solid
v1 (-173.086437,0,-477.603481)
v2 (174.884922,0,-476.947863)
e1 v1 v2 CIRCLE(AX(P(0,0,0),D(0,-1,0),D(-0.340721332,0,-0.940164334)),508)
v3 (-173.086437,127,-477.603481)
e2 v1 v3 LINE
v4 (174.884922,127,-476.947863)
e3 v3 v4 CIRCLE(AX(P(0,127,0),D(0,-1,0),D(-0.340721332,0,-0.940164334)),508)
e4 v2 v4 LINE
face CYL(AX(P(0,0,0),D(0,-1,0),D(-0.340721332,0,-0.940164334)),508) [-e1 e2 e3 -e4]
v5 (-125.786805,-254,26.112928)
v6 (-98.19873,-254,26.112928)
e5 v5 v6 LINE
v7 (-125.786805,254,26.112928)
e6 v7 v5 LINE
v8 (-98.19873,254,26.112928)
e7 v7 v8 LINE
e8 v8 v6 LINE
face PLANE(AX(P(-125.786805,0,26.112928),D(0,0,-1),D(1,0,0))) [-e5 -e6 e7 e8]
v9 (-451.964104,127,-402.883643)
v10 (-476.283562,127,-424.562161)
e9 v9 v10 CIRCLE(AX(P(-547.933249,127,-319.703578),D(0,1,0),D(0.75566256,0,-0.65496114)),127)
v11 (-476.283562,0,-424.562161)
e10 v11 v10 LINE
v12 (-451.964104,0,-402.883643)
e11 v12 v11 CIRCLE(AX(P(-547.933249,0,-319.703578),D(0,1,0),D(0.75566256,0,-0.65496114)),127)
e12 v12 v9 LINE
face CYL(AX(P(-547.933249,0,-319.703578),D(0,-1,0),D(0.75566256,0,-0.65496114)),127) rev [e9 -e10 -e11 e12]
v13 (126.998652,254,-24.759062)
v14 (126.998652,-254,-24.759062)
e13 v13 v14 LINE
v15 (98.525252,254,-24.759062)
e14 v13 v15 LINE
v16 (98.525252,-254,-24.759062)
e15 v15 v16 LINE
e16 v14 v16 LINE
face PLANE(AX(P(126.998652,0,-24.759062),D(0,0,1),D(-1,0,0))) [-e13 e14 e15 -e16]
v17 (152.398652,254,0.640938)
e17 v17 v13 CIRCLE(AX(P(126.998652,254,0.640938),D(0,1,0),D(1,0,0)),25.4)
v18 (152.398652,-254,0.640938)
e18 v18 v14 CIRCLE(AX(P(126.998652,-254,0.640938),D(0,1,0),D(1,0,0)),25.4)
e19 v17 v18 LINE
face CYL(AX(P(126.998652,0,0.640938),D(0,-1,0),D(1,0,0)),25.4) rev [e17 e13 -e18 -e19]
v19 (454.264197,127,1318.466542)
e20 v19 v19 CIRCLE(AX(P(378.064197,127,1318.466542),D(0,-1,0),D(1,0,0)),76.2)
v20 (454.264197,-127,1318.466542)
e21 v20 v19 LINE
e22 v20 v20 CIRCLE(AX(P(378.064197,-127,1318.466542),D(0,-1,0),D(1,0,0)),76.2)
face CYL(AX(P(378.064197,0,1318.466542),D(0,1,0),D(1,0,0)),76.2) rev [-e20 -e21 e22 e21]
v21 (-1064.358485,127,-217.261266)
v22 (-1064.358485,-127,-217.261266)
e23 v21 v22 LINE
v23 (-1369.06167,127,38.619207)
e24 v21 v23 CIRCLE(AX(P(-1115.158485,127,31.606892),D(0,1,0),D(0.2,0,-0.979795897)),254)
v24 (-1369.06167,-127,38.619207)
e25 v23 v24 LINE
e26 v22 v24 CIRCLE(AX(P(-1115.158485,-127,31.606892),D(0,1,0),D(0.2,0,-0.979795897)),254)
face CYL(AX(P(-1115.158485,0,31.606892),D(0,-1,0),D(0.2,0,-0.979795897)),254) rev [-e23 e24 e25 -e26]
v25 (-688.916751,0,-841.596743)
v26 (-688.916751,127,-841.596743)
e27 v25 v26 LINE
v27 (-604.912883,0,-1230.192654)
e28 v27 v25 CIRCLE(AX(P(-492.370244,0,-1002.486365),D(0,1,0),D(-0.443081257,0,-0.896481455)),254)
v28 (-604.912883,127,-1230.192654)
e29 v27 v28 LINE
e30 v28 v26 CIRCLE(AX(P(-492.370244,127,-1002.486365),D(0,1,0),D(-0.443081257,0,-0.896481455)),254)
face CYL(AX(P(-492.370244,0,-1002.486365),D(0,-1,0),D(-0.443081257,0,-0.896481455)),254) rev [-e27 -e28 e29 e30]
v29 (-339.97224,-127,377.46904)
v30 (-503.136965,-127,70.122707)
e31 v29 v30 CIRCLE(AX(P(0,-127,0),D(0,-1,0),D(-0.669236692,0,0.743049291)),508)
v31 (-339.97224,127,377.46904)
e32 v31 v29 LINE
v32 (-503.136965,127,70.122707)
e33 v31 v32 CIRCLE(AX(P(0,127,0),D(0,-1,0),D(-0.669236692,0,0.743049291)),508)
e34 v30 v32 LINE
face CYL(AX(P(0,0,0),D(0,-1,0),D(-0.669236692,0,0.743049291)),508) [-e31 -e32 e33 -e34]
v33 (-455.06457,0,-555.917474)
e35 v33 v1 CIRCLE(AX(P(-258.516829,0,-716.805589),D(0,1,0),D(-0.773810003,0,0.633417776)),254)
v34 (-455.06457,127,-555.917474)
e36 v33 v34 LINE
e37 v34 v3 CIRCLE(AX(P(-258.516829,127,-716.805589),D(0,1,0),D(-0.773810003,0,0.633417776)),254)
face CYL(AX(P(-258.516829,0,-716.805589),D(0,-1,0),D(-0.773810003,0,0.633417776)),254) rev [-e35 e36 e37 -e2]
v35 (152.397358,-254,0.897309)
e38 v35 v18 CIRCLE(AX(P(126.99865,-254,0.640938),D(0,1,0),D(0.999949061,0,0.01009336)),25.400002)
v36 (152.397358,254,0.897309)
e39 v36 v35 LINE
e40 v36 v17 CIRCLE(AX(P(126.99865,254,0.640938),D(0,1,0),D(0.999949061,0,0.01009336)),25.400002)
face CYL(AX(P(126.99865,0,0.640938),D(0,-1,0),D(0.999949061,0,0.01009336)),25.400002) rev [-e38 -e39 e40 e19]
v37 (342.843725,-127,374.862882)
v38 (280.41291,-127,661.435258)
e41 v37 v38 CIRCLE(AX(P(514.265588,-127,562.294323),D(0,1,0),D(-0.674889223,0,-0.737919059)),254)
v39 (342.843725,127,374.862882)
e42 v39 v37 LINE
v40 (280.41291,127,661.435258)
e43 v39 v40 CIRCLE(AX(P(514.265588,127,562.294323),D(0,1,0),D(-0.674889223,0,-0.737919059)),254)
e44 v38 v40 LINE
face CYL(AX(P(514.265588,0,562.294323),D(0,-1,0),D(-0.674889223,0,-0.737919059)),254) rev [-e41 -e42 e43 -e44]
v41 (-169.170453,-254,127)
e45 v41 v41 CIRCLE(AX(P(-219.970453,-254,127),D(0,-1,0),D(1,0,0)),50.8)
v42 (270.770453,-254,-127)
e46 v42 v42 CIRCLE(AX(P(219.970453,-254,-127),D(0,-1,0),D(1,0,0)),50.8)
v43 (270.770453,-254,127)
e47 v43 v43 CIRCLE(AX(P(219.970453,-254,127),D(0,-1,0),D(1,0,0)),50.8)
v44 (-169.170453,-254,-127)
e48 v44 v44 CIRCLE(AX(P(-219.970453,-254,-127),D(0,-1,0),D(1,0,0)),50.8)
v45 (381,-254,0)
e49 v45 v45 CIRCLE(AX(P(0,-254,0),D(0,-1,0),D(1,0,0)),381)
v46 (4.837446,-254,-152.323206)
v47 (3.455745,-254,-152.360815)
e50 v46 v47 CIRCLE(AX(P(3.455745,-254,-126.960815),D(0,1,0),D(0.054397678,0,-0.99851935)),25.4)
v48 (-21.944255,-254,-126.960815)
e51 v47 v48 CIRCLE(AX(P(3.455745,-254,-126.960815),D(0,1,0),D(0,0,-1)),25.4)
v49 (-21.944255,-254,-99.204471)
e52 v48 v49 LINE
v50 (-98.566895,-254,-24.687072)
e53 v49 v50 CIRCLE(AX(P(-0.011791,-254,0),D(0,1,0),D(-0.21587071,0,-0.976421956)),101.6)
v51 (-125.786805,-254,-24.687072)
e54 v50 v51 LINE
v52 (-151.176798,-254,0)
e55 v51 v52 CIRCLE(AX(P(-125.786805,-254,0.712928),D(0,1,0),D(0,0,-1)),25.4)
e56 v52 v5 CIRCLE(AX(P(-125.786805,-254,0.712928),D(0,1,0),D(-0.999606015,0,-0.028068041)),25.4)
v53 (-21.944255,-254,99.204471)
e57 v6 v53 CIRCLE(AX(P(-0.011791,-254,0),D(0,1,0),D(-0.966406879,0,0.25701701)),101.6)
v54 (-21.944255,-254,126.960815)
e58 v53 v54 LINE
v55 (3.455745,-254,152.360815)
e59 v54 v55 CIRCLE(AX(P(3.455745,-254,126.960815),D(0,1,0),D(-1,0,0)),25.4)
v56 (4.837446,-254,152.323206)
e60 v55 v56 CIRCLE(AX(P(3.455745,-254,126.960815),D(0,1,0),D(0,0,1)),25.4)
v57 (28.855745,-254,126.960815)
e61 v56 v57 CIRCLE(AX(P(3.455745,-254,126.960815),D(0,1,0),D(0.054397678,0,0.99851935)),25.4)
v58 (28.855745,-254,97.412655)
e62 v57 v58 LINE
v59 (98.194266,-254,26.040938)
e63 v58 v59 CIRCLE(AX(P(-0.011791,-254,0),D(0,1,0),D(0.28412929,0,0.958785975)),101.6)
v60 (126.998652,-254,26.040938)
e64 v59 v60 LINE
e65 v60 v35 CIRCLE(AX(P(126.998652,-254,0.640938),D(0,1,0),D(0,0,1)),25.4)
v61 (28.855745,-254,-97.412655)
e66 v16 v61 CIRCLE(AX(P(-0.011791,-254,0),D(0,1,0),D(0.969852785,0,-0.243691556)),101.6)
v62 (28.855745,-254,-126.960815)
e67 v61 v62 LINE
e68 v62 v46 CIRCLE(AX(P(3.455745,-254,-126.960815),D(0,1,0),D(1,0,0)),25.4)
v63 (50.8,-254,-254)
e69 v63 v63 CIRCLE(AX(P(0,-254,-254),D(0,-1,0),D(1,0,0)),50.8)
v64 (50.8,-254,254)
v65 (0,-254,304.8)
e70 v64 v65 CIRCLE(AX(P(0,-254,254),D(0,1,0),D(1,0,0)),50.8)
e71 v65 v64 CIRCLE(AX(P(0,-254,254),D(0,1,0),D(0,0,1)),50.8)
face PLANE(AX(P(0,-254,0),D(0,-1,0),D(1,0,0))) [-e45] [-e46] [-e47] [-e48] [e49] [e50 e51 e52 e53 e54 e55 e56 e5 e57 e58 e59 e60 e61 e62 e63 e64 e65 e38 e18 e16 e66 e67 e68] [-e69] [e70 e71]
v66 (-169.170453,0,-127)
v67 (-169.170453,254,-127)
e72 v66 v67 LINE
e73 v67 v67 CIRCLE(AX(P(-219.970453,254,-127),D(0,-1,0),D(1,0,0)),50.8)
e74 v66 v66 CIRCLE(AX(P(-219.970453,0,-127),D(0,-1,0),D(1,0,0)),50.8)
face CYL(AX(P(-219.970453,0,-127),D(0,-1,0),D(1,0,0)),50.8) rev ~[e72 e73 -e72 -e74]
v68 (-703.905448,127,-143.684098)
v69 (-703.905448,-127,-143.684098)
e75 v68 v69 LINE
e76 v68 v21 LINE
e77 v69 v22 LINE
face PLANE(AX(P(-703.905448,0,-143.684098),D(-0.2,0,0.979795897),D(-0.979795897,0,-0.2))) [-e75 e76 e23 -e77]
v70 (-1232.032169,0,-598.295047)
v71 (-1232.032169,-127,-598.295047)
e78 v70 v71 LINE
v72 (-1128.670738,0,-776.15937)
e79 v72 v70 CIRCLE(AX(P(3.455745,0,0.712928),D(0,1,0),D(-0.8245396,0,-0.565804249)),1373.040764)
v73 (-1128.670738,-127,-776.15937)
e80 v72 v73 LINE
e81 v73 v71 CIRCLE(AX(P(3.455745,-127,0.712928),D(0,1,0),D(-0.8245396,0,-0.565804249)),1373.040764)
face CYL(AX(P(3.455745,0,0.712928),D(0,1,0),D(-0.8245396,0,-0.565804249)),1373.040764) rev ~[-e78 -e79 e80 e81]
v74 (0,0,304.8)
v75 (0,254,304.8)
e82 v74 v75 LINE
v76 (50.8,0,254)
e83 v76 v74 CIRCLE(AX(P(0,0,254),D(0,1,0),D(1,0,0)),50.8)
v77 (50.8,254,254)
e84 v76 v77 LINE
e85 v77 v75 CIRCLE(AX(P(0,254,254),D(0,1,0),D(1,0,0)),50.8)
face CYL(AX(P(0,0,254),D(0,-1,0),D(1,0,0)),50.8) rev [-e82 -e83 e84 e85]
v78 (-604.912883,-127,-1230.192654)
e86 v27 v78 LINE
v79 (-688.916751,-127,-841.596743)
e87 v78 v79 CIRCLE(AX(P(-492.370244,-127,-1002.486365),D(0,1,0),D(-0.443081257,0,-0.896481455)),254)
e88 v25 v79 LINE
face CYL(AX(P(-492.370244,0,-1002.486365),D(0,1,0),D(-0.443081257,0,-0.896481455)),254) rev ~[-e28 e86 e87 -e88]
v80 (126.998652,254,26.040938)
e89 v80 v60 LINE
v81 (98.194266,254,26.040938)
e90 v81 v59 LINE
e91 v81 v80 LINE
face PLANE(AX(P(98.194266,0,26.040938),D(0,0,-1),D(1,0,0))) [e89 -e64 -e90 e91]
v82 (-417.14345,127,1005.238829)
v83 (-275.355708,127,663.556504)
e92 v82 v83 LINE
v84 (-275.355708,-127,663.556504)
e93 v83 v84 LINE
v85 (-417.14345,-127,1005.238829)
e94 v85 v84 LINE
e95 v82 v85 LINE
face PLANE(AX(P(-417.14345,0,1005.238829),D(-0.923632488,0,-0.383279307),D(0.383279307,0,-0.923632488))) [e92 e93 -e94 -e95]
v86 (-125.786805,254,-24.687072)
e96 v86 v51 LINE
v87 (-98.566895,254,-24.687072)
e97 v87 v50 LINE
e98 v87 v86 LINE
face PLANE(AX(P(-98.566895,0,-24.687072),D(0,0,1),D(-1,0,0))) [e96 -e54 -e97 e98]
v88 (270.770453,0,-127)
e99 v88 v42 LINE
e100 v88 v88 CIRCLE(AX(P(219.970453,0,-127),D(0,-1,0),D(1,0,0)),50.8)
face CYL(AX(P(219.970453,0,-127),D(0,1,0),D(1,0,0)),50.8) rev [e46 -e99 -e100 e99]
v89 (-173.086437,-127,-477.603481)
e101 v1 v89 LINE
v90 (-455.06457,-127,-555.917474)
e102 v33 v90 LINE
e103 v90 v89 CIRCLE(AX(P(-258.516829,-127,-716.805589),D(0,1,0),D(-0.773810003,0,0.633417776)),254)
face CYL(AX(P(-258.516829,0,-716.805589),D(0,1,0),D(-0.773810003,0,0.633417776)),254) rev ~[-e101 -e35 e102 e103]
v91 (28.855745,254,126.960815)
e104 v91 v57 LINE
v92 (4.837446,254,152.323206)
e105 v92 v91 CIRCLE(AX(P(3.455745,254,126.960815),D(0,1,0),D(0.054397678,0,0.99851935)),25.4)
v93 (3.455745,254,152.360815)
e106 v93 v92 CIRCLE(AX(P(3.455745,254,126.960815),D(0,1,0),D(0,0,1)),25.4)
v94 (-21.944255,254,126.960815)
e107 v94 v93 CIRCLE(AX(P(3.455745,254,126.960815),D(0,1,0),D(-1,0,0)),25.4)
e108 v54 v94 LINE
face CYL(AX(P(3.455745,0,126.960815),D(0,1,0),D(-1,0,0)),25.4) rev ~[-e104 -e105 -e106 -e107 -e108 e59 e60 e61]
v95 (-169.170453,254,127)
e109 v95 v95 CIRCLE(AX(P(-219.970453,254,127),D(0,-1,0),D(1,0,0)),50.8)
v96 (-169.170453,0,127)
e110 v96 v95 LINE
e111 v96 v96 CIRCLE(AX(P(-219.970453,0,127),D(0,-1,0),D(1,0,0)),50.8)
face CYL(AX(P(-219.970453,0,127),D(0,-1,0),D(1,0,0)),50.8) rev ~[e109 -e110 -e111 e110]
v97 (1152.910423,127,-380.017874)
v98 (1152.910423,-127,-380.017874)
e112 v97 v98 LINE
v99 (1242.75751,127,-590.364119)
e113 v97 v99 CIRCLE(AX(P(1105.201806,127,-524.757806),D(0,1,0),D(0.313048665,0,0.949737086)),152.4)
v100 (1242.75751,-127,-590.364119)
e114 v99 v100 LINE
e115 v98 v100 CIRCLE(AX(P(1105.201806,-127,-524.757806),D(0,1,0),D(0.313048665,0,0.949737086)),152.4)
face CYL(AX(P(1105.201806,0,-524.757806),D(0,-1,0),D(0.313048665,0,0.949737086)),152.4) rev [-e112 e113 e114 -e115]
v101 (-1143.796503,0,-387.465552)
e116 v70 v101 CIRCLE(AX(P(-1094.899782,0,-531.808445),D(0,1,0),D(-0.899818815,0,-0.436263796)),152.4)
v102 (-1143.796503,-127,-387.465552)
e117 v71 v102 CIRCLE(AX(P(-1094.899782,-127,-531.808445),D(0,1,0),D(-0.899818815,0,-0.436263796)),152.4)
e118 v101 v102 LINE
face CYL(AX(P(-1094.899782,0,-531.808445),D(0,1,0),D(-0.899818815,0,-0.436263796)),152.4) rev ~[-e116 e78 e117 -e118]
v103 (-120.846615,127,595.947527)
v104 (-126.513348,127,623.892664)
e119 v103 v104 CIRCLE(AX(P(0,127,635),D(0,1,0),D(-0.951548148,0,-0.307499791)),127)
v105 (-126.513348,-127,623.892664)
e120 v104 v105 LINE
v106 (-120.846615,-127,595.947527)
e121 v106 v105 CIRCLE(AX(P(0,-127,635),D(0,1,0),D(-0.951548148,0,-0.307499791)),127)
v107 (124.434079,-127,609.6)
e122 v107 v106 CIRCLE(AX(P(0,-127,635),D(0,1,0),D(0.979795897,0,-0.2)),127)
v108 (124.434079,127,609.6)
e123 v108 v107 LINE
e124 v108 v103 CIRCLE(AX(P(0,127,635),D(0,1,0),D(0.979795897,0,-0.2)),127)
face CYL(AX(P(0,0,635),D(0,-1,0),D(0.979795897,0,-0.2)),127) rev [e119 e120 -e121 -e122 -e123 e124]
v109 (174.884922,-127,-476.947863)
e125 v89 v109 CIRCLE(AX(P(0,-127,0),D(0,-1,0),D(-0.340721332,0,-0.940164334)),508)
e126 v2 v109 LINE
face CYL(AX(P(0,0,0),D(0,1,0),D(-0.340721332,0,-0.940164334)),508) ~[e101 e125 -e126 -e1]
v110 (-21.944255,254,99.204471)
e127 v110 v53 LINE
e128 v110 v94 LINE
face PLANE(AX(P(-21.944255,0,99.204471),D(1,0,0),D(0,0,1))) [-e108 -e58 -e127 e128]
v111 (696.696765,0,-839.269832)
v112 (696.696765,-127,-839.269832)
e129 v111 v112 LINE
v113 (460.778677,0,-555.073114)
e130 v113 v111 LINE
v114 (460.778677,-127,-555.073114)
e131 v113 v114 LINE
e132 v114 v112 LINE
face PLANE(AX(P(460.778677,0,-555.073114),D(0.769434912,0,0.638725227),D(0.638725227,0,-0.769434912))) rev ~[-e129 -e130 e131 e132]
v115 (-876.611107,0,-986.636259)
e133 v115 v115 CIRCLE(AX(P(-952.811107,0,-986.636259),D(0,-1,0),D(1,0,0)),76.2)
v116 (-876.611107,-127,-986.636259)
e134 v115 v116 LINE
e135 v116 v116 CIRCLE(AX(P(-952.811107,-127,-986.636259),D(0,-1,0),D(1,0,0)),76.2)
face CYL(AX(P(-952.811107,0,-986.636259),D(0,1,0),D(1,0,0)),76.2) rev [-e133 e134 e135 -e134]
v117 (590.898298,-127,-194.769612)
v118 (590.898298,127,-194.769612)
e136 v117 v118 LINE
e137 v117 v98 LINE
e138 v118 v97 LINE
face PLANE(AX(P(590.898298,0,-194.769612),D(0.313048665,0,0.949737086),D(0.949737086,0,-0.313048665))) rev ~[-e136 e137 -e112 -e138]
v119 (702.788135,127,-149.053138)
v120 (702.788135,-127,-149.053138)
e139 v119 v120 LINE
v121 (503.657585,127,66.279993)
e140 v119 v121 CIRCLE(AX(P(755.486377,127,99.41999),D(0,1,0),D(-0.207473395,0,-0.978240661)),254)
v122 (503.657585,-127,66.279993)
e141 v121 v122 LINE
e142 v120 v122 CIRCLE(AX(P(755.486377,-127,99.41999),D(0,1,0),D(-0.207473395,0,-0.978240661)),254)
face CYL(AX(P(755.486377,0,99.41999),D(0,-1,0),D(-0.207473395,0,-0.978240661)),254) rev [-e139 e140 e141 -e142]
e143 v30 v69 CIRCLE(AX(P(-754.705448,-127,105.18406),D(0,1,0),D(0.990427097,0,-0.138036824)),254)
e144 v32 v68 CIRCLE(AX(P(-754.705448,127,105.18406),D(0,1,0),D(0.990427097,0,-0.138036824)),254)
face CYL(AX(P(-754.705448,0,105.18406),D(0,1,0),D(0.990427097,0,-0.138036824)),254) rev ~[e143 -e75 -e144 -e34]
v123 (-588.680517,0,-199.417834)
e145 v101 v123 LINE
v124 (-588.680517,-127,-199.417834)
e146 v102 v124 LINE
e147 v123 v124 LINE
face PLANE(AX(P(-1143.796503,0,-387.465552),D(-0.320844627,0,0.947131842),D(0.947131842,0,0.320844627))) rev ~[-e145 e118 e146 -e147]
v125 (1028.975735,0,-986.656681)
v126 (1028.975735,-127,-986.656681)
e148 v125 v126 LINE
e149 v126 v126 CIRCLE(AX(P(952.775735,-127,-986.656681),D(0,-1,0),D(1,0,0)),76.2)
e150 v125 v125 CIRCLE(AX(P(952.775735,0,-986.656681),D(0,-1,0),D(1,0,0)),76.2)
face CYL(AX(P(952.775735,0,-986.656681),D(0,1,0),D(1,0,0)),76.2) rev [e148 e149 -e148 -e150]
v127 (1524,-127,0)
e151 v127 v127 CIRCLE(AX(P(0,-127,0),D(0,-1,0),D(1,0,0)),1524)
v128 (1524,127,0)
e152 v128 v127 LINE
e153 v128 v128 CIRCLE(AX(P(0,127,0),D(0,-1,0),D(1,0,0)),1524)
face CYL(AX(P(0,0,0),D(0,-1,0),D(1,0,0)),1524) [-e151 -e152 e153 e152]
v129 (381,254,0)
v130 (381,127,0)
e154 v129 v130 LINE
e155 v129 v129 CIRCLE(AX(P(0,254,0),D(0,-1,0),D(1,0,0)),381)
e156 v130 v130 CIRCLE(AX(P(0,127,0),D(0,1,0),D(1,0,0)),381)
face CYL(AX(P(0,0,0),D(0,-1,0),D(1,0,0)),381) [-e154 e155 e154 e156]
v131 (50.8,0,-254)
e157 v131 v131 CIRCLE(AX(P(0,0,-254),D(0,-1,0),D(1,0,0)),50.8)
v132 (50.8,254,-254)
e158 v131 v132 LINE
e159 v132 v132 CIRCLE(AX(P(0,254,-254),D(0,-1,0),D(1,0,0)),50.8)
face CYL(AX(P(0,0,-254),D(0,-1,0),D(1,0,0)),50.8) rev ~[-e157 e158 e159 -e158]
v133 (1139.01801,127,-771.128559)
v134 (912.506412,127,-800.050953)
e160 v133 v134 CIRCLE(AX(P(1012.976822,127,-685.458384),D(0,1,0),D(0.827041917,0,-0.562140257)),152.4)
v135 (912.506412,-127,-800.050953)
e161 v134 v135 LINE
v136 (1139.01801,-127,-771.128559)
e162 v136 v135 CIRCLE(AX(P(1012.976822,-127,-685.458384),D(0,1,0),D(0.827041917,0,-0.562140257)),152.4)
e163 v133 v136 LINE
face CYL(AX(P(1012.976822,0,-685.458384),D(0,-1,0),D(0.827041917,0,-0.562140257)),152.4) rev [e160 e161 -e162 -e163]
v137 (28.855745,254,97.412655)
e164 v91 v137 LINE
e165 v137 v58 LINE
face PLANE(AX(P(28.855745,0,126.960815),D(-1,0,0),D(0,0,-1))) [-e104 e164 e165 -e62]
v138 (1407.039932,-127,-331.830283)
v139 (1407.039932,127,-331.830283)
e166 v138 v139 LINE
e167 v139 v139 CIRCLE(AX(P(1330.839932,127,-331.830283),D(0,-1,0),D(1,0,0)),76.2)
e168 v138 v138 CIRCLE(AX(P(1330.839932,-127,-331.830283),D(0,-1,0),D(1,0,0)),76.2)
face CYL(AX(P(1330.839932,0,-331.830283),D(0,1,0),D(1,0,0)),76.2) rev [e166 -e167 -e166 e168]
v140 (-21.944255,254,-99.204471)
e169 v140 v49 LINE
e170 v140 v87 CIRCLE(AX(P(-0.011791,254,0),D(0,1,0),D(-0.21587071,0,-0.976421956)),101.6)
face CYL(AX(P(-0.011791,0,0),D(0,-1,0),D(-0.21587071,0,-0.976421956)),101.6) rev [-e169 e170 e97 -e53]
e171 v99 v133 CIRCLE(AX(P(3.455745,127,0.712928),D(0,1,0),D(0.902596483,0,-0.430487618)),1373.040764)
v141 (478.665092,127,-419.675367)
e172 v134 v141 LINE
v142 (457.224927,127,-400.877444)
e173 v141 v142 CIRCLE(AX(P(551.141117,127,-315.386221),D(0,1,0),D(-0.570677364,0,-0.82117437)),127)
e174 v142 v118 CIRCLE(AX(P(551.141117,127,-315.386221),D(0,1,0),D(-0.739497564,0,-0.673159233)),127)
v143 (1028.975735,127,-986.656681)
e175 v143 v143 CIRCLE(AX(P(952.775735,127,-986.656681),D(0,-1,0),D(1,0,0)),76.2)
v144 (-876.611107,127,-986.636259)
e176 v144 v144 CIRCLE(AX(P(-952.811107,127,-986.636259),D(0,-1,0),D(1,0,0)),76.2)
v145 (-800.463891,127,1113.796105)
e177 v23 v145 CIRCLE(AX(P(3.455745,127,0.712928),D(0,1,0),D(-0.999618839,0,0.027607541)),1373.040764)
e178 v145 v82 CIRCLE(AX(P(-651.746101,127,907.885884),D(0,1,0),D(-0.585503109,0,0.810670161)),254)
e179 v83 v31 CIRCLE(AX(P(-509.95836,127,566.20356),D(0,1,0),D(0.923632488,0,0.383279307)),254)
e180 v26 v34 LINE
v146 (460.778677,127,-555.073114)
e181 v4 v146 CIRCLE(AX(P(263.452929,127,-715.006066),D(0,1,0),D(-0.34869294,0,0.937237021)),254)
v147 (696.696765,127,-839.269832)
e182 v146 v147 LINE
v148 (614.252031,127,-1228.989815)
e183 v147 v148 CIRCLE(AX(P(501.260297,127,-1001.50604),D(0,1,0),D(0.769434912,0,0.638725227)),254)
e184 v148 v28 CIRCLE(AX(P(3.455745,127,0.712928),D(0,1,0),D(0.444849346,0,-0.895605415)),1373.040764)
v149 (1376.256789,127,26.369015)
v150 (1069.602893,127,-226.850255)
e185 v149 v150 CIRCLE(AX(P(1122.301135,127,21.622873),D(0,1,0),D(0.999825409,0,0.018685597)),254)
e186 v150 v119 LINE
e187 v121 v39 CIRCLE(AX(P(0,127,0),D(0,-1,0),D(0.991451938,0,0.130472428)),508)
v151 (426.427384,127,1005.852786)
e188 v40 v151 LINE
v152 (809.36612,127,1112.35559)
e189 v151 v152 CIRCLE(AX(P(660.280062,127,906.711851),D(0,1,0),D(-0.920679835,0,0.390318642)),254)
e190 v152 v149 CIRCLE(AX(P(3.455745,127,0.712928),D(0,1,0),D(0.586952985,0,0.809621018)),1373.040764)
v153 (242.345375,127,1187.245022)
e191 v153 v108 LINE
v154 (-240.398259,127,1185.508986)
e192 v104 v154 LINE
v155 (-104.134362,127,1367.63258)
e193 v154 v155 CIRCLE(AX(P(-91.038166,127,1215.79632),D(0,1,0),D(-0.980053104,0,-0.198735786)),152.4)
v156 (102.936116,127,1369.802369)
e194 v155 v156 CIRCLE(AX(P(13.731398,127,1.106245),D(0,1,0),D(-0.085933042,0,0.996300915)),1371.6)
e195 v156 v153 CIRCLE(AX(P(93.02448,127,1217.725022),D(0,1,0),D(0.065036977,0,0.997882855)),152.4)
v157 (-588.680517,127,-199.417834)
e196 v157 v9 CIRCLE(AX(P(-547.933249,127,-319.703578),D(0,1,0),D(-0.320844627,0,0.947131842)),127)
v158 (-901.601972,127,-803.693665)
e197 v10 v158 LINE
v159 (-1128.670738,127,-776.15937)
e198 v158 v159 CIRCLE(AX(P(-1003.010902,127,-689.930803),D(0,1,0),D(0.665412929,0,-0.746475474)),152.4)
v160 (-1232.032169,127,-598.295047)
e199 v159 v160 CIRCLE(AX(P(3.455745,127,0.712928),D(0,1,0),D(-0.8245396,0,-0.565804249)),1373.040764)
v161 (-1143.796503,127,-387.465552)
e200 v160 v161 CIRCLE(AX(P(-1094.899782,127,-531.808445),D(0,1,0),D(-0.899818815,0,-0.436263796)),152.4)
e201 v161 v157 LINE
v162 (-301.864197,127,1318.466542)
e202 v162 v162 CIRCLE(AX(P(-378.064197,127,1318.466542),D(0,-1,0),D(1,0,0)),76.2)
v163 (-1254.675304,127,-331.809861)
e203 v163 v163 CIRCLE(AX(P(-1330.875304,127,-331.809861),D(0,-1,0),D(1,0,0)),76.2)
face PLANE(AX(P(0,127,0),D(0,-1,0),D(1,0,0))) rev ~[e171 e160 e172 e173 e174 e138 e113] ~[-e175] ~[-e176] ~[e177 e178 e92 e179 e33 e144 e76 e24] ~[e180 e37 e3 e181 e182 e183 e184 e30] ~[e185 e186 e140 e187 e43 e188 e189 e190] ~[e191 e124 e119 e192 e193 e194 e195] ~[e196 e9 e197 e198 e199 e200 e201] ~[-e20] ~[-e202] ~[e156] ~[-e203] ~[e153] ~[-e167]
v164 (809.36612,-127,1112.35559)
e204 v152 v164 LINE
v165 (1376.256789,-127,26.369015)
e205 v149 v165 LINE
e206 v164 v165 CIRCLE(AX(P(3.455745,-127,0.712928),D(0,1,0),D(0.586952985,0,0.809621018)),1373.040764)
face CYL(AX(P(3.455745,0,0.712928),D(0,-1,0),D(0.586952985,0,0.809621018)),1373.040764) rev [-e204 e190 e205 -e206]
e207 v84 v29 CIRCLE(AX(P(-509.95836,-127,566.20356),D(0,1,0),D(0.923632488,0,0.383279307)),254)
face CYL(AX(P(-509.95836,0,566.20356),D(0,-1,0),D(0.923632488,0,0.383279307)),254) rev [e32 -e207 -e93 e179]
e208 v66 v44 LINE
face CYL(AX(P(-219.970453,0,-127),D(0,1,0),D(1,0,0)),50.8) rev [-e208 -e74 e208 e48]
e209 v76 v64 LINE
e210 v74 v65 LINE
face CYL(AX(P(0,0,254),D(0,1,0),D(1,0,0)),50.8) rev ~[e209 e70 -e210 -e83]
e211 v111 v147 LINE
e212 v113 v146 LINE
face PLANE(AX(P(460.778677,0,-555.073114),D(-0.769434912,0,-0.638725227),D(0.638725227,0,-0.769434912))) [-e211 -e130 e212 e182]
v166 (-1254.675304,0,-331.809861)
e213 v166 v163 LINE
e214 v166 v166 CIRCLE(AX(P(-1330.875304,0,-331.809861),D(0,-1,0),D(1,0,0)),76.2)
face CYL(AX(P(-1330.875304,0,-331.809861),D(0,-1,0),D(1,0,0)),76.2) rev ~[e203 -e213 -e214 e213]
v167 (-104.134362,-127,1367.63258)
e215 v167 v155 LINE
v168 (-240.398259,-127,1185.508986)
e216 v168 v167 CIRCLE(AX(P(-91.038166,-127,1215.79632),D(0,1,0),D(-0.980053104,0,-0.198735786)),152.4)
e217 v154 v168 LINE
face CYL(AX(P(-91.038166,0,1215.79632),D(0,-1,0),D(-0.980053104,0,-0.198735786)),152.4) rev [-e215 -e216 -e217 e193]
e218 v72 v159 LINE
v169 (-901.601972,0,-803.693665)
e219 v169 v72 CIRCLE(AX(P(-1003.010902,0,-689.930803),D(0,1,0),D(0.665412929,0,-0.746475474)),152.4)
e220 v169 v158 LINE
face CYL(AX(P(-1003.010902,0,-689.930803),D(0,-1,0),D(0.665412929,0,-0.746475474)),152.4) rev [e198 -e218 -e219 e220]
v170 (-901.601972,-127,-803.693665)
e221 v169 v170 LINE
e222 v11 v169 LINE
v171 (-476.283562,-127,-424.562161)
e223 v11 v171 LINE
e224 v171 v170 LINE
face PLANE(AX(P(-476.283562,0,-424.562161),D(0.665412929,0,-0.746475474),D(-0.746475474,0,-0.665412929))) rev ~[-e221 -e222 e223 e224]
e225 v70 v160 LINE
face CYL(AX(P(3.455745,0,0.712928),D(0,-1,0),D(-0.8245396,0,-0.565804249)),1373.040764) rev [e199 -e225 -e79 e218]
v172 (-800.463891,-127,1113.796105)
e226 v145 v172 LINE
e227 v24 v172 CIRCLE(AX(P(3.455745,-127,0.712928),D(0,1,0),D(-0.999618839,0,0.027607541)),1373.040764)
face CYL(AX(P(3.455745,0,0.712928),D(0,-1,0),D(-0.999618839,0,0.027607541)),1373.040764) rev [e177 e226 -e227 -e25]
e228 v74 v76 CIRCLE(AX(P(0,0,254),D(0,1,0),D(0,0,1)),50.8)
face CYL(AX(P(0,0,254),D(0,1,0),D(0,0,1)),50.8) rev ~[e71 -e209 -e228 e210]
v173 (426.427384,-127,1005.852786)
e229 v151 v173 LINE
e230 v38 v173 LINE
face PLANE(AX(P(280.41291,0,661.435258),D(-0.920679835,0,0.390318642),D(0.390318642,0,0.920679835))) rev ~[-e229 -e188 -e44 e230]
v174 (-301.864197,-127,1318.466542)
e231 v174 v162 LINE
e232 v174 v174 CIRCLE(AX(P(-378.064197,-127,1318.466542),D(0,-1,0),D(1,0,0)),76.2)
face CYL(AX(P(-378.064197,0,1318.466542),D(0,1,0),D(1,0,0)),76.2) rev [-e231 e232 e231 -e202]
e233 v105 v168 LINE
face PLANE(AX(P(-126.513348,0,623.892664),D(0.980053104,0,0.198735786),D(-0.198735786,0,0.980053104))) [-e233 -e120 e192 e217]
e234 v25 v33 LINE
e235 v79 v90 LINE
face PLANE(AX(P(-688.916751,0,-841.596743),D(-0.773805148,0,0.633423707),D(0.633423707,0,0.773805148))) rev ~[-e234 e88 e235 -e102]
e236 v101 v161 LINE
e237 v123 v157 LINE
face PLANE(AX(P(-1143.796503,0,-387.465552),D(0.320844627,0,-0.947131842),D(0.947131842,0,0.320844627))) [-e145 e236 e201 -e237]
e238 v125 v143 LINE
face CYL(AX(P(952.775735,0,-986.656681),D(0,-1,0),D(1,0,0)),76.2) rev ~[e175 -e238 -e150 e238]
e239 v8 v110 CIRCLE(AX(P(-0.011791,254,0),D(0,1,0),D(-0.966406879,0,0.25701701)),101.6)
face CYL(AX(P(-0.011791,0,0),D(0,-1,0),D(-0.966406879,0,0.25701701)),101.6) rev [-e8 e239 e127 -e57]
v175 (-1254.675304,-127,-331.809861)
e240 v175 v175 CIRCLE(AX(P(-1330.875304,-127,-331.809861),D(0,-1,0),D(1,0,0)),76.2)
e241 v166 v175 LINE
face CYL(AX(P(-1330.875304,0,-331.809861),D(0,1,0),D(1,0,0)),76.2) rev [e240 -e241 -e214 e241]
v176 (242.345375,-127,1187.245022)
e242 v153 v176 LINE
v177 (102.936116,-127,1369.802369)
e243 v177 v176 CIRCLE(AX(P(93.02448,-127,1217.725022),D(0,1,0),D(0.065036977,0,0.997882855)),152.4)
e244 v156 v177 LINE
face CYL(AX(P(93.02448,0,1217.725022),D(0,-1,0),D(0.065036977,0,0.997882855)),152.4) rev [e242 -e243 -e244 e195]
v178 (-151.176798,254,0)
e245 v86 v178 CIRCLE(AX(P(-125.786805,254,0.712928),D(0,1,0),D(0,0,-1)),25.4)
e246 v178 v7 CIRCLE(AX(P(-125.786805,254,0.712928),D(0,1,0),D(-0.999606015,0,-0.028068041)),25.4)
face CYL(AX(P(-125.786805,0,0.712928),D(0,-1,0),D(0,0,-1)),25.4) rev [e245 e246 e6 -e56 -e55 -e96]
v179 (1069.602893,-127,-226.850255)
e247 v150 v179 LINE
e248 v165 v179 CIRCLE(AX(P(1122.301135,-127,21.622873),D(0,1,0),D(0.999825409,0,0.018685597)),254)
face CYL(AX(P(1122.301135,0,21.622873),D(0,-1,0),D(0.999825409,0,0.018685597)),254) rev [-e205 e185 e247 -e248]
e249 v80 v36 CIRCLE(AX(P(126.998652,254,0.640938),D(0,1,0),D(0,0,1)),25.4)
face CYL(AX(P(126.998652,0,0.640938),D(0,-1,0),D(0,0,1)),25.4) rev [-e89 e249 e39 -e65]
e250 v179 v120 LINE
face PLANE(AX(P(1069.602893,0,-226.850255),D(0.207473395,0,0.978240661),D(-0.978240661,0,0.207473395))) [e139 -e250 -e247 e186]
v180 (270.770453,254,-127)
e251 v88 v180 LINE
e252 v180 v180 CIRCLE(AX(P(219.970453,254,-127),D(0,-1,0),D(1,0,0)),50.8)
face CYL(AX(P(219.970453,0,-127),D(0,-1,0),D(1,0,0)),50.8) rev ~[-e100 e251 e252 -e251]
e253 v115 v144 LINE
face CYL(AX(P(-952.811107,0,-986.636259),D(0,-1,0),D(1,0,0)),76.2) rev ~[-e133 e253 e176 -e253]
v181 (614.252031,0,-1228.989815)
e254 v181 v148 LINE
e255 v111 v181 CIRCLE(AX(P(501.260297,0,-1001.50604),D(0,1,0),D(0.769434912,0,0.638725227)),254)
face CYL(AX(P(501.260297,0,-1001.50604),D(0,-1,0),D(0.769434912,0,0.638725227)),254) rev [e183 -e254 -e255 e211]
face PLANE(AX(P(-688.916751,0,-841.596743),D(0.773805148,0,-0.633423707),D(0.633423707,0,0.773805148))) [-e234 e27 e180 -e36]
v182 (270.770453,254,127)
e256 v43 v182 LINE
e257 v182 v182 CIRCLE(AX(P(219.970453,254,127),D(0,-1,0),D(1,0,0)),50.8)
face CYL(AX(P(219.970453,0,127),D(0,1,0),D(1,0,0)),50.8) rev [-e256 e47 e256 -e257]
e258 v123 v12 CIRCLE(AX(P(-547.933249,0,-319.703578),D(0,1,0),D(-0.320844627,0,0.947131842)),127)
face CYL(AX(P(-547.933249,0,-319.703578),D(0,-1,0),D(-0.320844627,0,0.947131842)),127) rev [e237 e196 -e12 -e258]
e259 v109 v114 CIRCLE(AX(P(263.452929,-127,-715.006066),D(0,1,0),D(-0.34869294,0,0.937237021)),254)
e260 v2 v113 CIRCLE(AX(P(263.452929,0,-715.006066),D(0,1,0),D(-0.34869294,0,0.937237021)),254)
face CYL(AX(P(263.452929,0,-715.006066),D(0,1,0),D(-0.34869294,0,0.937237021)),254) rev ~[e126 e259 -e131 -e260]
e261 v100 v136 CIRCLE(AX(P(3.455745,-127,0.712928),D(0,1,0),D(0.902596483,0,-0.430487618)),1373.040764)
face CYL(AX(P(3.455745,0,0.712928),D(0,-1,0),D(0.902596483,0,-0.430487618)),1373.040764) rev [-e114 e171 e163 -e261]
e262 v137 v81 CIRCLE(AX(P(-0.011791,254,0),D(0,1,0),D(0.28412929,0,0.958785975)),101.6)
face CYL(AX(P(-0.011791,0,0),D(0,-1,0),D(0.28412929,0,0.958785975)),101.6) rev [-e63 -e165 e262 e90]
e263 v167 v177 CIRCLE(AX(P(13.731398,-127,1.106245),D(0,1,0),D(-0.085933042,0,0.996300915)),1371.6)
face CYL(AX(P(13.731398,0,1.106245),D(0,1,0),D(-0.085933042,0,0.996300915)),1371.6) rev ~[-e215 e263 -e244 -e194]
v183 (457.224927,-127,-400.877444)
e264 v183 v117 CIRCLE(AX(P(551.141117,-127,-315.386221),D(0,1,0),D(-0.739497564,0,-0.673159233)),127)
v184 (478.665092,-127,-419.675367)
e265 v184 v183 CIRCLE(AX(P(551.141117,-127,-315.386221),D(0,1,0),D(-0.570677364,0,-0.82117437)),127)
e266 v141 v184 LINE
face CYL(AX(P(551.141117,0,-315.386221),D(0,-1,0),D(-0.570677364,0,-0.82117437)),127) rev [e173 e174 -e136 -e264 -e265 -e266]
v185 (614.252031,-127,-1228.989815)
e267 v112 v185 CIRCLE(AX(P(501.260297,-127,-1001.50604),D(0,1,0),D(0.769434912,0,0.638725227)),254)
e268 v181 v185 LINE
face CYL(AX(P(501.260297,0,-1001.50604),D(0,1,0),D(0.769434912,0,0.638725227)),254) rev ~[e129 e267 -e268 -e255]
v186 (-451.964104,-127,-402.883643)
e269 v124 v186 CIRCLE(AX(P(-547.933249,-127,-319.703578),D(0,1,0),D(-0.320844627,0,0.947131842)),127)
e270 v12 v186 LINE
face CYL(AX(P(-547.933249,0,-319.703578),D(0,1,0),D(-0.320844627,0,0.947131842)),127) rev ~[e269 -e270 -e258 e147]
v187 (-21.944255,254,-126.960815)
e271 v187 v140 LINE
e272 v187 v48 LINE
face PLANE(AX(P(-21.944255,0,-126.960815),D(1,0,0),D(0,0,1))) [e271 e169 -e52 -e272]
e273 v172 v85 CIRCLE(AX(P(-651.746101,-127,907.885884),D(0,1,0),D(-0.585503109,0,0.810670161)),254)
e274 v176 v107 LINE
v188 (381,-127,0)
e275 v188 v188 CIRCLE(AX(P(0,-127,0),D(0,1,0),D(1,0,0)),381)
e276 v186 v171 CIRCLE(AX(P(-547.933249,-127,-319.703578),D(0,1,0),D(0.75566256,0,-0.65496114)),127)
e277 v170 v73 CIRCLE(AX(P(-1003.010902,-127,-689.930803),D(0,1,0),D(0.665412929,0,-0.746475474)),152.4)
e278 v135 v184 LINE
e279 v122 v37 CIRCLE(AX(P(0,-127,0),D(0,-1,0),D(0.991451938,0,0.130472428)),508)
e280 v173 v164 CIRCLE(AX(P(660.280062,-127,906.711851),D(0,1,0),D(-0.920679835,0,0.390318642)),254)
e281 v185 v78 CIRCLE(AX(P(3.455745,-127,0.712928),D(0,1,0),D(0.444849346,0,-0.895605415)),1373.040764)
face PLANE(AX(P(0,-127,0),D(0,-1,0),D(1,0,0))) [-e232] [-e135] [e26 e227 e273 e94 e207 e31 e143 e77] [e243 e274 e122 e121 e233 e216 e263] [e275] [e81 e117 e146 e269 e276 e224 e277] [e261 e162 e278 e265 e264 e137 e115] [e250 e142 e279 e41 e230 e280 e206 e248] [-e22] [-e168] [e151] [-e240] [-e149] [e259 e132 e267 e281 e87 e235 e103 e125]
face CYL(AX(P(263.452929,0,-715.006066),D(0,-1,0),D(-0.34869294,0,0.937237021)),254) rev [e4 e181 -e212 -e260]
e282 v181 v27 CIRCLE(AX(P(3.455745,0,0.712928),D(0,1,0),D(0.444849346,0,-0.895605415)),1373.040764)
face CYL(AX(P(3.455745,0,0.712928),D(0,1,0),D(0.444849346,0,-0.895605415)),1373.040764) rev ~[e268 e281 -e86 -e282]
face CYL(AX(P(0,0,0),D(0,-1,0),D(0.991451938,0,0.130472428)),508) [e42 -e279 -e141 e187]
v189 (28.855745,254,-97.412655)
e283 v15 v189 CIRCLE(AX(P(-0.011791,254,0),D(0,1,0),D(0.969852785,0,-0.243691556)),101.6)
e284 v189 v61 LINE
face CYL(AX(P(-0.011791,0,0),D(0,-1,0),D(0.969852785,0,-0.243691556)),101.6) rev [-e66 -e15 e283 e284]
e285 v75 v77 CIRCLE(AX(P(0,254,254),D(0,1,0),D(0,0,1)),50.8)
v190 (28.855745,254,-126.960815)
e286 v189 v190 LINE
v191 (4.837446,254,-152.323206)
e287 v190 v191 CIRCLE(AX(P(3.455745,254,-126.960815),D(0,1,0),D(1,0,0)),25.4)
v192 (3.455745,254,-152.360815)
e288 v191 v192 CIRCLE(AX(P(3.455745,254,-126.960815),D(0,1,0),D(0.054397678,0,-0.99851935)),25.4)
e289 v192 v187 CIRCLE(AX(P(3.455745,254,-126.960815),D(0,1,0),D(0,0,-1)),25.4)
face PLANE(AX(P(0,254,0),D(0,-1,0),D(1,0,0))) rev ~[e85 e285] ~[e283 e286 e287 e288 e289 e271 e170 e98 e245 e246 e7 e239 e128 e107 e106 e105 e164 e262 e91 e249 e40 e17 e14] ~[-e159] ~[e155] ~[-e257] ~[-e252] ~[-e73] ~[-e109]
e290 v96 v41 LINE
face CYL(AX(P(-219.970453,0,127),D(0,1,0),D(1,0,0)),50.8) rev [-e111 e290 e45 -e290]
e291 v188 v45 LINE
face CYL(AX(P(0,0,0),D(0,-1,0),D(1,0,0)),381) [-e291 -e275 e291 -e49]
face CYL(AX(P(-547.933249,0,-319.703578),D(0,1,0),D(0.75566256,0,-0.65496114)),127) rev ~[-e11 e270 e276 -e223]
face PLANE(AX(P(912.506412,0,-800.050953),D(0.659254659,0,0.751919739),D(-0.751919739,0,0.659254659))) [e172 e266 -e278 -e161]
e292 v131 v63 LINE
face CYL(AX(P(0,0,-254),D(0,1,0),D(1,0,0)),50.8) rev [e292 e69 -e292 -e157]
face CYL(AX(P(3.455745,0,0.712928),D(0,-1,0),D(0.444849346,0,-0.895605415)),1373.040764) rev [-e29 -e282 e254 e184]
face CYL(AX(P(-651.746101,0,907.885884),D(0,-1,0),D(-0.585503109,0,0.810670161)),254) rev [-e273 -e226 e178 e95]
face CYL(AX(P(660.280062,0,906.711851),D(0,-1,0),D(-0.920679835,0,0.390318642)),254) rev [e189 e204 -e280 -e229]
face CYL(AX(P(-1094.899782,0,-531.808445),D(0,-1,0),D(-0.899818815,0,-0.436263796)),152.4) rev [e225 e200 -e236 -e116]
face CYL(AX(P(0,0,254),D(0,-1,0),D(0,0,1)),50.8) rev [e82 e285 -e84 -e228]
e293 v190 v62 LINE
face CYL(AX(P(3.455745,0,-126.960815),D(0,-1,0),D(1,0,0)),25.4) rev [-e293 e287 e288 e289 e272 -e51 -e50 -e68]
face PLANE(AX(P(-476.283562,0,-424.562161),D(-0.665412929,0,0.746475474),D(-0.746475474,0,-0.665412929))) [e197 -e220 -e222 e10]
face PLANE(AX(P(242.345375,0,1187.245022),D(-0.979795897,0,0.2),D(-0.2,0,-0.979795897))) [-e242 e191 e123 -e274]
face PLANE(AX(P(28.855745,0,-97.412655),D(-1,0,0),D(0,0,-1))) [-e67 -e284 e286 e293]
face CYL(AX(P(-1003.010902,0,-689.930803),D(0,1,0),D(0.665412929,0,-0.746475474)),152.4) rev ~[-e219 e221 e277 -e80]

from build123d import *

# Parameters (mm, degrees)
F0_R     = 1524
F0_R_2   = 76.2
F1_DEPTH = 127
F0_R_3   = 50.8
F2_DEPTH = 254


with BuildPart() as f1:
    # F0 (on Front) → F1 (new body, symmetric)
    with BuildSketch(Plane.XZ):
        Circle(F0_R)
        with Locations((-952.8111070946, -986.6362590277)):
            Circle(F0_R_2, mode=Mode.SUBTRACT)
        with BuildLine():
            Line((-1143.7965026229, -387.4655521336), (-588.6805165913, -199.4178342636))
            ThreePointArc((-588.6805165913, -199.4178342636), (-442.520025125, -248.8724251651), (-451.9641038458, -402.8836429515))
            ThreePointArc((-451.9641038458, -402.8836429515), (-463.4258069525, -414.5059633548), (-476.2835619446, -424.5621607587))
            Line((-476.2835619446, -424.5621607587), (-901.6019720221, -803.6936648058))
            ThreePointArc((-901.6019720221, -803.6936648058), (-1021.3564997553, -841.2225705506), (-1128.6707375108, -776.1593700915))
            ThreePointArc((-1128.6707375108, -776.1593700915), (-1183.6872168804, -689.1657048273), (-1232.0321689731, -598.2950472668))
            ThreePointArc((-1232.0321689731, -598.2950472668), (-1235.4841914332, -472.9715202977), (-1143.7965026229, -387.4655521336))
        make_face(mode=Mode.SUBTRACT)
        with Locations((-1330.8753043332, -331.8098608877)):
            Circle(F0_R_2, mode=Mode.SUBTRACT)
        with BuildLine():
            ThreePointArc((174.8849222318, -476.9478629536), (330.4077663836, -469.9896388327), (460.778676584, -555.0731137822))
            Line((460.778676584, -555.0731137822), (696.6967648583, -839.2698323169))
            ThreePointArc((696.6967648583, -839.2698323169), (749.7606093742, -1054.0759440281), (614.2520309713, -1228.9898154122))
            ThreePointArc((614.2520309713, -1228.9898154122), (4.8103986091, -1372.3271678538), (-604.9128828203, -1230.1926542956))
            ThreePointArc((-604.9128828203, -1230.1926542956), (-740.6356674919, -1056.1545978866), (-688.9167511711, -841.5967430963))
            Line((-688.9167511711, -841.5967430963), (-455.0645697304, -555.9174735301))
            ThreePointArc((-455.0645697304, -555.9174735301), (-326.4876801695, -472.0690703197), (-173.086436551, -477.6034814384))
            ThreePointArc((-173.086436551, -477.6034814384), (0.9571293462, -507.9990983293), (174.8849222318, -476.9478629536))
        make_face(mode=Mode.SUBTRACT)
        with Locations((952.7757347485, -986.6566812613)):
            Circle(F0_R_2, mode=Mode.SUBTRACT)
        with BuildLine():
            ThreePointArc((478.6650922411, -419.6753665297), (467.4157757038, -410.8800283769), (457.2249267603, -400.8774440313))
            ThreePointArc((457.2249267603, -400.8774440313), (444.5887394314, -246.2805723115), (590.8982978771, -194.7696115053))
            Line((590.8982978771, -194.7696115053), (1152.9104225805, -380.0178743333))
            ThreePointArc((1152.9104225805, -380.0178743333), (1245.3520925112, -464.8941512431), (1242.7575100312, -590.3641192171))
            ThreePointArc((1242.7575100312, -590.3641192171), (1194.3225454899, -682.7175395624), (1139.0180104287, -771.128559471))
            ThreePointArc((1139.0180104287, -771.128559471), (1032.2794744601, -836.6310261267), (912.5064122897, -800.0509526302))
            Line((912.5064122897, -800.0509526302), (478.6650922411, -419.6753665297))
        make_face(mode=Mode.SUBTRACT)
        with Locations((1330.8399319871, -331.8302831213)):
            Circle(F0_R_2, mode=Mode.SUBTRACT)
        with BuildLine():
            Line((-417.1434495713, 1005.2388285774), (-275.3557077746, 663.5565041471))
            ThreePointArc((-275.3557077746, 663.5565041471), (-262.1993480359, 510.2440018254), (-339.9722397773, 377.4690400295))
            ThreePointArc((-339.9722397773, 377.4690400295), (-448.6911244451, 238.2021722072), (-503.136965464, 70.1227066198))
            ThreePointArc((-503.136965464, 70.1227066198), (-569.5433239478, -68.6865463955), (-703.905448196, -143.6840979371))
            Line((-703.905448196, -143.6840979371), (-1064.3584847667, -217.2612659234))
            ThreePointArc((-1064.3584847667, -217.2612659234), (-1278.5029983095, -162.9042128693), (-1369.0616699236, 38.6192073395))
            ThreePointArc((-1369.0616699236, 38.6192073395), (-1210.3073701707, 642.6008004961), (-800.4638911371, 1113.7961052854))
            ThreePointArc((-800.4638911371, 1113.7961052854), (-582.5346647555, 1152.2744624174), (-417.1434495713, 1005.2388285774))
        make_face(mode=Mode.SUBTRACT)
        with Locations((-378.0641972386, 1318.466542149)):
            Circle(F0_R_2, mode=Mode.SUBTRACT)
        with BuildLine():
            ThreePointArc((0, 381), (269.4076836321, 269.4076836321), (381, 0))
            ThreePointArc((381, 0), (-269.4076836321, -269.4076836321), (0, 381))
        make_face(mode=Mode.SUBTRACT)
        with BuildLine():
            ThreePointArc((702.7881345785, -149.0531378257), (569.0024149617, -73.032124965), (503.6575845569, 66.2799933489))
            ThreePointArc((503.6575845569, 66.2799933489), (450.496355812, 234.7701714446), (342.843725186, 374.8628817322))
            ThreePointArc((342.843725186, 374.8628817322), (266.0866302369, 508.2276504859), (280.4129097893, 661.4352576205))
            Line((280.4129097893, 661.4352576205), (426.4273841259, 1005.8527864771))
            ThreePointArc((426.4273841259, 1005.8527864771), (592.220847063, 1151.4238112085), (809.3661203131, 1112.3555901175))
            ThreePointArc((809.3661203131, 1112.3555901175), (1220.6400254417, 636.0894845276), (1376.2567888865, 26.3690147151))
            ThreePointArc((1376.2567888865, 26.3690147151), (1284.0297225985, -174.233870388), (1069.6028927462, -226.8502547881))
            Line((1069.6028927462, -226.8502547881), (702.7881345785, -149.0531378257))
        make_face(mode=Mode.SUBTRACT)
        with BuildLine():
            Line((-126.5133475018, 623.8926644111), (-240.3982590742, 1185.5089864839))
            ThreePointArc((-240.3982590742, 1185.5089864839), (-213.0638281245, 1307.0952675337), (-104.1343615013, 1367.6325796317))
            ThreePointArc((-104.1343615013, 1367.6325796317), (-0.6401302534, 1372.6309512112), (102.9361157728, 1369.802368675))
            ThreePointArc((102.9361157728, 1369.802368675), (214.1465094318, 1310.2194220345), (242.3453752198, 1187.2450216236))
            Line((242.3453752198, 1187.2450216236), (124.4340789334, 609.6))
            ThreePointArc((124.4340789334, 609.6), (7.0579729459, 508.1962736435), (-120.8466148532, 595.9475266016))
            ThreePointArc((-120.8466148532, 595.9475266016), (-124.4667442567, 609.7605551935), (-126.5133475018, 623.8926644111))
        make_face(mode=Mode.SUBTRACT)
        with Locations((378.0641972386, 1318.466542149)):
            Circle(F0_R_2, mode=Mode.SUBTRACT)
    extrude(amount=F1_DEPTH, both=True)

    # F0 (on Front) → F2 (join, symmetric)
    with BuildSketch(Plane.XZ):
        with BuildLine():
            ThreePointArc((0, 381), (-269.4076836321, -269.4076836321), (381, 0))
            ThreePointArc((381, 0), (269.4076836321, 269.4076836321), (0, 381))
        make_face()
        with Locations((-219.9704525612, -127)):
            Circle(F0_R_3, mode=Mode.SUBTRACT)
        with Locations((0, -254)):
            Circle(F0_R_3, mode=Mode.SUBTRACT)
        with Locations((219.9704525612, -127)):
            Circle(F0_R_3, mode=Mode.SUBTRACT)
        with Locations((-219.9704525612, 127)):
            Circle(F0_R_3, mode=Mode.SUBTRACT)
        with BuildLine():
            ThreePointArc((4.8374461237, -152.3232060948), (4.146851486, -152.3514107333), (3.4557451103, -152.3608146005))
            ThreePointArc((3.4557451103, -152.3608146005), (-14.5047671319, -144.9213268427), (-21.9442548897, -126.9608146005))
            Line((-21.9442548897, -126.9608146005), (-21.9442548897, -99.2044707569))
            ThreePointArc((-21.9442548897, -99.2044707569), (-70.8462752812, -72.835676737), (-98.5668945966, -24.6870717604))
            Line((-98.5668945966, -24.6870717604), (-125.7868047539, -24.6870717604))
            ThreePointArc((-125.7868047539, -24.6870717604), (-143.4934648386, -17.4978978988), (-151.176797533, 0))
            ThreePointArc((-151.176797533, 0), (-143.9976308923, 18.4195883244), (-125.7868047539, 26.1129282396))
            Line((-125.7868047539, 26.1129282396), (-98.1987297238, 26.1129282396))
            ThreePointArc((-98.1987297238, 26.1129282396), (-70.3165640491, 73.3471121168), (-21.9442548897, 99.2044707569))
            Line((-21.9442548897, 99.2044707569), (-21.9442548897, 126.9608146005))
            ThreePointArc((-21.9442548897, 126.9608146005), (-14.5047671319, 144.9213268427), (3.4557451103, 152.3608146005))
            ThreePointArc((3.4557451103, 152.3608146005), (4.146851486, 152.3514107333), (4.8374461237, 152.3232060948))
            ThreePointArc((4.8374461237, 152.3232060948), (21.8982938189, 144.4259912996), (28.8557451103, 126.9608146005))
            Line((28.8557451103, 126.9608146005), (28.8557451103, 97.4126550891))
            ThreePointArc((28.8557451103, 97.4126550891), (72.8607347762, 70.7965749084), (98.1942658211, 26.040937895))
            Line((98.1942658211, 26.040937895), (126.9986522205, 26.040937895))
            ThreePointArc((126.9986522205, 26.040937895), (144.8682936234, 18.6918635259), (152.3973583633, 0.897309244))
            ThreePointArc((152.3973583633, 0.897309244), (152.3983287541, 0.7691252019), (152.3986522205, 0.640937895))
            ThreePointArc((152.3986522205, 0.640937895), (144.9591644626, -17.3195743471), (126.9986522205, -24.759062105))
            Line((126.9986522205, -24.759062105), (98.5252522205, -24.759062105))
            ThreePointArc((98.5252522205, -24.759062105), (73.3204519507, -70.3202828193), (28.8557451103, -97.4126550891))
            Line((28.8557451103, -97.4126550891), (28.8557451103, -126.9608146005))
            ThreePointArc((28.8557451103, -126.9608146005), (21.8982938189, -144.4259912996), (4.8374461237, -152.3232060948))
        make_face(mode=Mode.SUBTRACT)
        with Locations((219.9704525612, 127)):
            Circle(F0_R_3, mode=Mode.SUBTRACT)
        with BuildLine():
            ThreePointArc((50.8, 254), (-35.9210244843, 218.0789755157), (0, 304.8))
            ThreePointArc((0, 304.8), (35.9210244843, 289.9210244843), (50.8, 254))
        make_face(mode=Mode.SUBTRACT)
    extrude(amount=F2_DEPTH, both=True)


solid = f1.part
